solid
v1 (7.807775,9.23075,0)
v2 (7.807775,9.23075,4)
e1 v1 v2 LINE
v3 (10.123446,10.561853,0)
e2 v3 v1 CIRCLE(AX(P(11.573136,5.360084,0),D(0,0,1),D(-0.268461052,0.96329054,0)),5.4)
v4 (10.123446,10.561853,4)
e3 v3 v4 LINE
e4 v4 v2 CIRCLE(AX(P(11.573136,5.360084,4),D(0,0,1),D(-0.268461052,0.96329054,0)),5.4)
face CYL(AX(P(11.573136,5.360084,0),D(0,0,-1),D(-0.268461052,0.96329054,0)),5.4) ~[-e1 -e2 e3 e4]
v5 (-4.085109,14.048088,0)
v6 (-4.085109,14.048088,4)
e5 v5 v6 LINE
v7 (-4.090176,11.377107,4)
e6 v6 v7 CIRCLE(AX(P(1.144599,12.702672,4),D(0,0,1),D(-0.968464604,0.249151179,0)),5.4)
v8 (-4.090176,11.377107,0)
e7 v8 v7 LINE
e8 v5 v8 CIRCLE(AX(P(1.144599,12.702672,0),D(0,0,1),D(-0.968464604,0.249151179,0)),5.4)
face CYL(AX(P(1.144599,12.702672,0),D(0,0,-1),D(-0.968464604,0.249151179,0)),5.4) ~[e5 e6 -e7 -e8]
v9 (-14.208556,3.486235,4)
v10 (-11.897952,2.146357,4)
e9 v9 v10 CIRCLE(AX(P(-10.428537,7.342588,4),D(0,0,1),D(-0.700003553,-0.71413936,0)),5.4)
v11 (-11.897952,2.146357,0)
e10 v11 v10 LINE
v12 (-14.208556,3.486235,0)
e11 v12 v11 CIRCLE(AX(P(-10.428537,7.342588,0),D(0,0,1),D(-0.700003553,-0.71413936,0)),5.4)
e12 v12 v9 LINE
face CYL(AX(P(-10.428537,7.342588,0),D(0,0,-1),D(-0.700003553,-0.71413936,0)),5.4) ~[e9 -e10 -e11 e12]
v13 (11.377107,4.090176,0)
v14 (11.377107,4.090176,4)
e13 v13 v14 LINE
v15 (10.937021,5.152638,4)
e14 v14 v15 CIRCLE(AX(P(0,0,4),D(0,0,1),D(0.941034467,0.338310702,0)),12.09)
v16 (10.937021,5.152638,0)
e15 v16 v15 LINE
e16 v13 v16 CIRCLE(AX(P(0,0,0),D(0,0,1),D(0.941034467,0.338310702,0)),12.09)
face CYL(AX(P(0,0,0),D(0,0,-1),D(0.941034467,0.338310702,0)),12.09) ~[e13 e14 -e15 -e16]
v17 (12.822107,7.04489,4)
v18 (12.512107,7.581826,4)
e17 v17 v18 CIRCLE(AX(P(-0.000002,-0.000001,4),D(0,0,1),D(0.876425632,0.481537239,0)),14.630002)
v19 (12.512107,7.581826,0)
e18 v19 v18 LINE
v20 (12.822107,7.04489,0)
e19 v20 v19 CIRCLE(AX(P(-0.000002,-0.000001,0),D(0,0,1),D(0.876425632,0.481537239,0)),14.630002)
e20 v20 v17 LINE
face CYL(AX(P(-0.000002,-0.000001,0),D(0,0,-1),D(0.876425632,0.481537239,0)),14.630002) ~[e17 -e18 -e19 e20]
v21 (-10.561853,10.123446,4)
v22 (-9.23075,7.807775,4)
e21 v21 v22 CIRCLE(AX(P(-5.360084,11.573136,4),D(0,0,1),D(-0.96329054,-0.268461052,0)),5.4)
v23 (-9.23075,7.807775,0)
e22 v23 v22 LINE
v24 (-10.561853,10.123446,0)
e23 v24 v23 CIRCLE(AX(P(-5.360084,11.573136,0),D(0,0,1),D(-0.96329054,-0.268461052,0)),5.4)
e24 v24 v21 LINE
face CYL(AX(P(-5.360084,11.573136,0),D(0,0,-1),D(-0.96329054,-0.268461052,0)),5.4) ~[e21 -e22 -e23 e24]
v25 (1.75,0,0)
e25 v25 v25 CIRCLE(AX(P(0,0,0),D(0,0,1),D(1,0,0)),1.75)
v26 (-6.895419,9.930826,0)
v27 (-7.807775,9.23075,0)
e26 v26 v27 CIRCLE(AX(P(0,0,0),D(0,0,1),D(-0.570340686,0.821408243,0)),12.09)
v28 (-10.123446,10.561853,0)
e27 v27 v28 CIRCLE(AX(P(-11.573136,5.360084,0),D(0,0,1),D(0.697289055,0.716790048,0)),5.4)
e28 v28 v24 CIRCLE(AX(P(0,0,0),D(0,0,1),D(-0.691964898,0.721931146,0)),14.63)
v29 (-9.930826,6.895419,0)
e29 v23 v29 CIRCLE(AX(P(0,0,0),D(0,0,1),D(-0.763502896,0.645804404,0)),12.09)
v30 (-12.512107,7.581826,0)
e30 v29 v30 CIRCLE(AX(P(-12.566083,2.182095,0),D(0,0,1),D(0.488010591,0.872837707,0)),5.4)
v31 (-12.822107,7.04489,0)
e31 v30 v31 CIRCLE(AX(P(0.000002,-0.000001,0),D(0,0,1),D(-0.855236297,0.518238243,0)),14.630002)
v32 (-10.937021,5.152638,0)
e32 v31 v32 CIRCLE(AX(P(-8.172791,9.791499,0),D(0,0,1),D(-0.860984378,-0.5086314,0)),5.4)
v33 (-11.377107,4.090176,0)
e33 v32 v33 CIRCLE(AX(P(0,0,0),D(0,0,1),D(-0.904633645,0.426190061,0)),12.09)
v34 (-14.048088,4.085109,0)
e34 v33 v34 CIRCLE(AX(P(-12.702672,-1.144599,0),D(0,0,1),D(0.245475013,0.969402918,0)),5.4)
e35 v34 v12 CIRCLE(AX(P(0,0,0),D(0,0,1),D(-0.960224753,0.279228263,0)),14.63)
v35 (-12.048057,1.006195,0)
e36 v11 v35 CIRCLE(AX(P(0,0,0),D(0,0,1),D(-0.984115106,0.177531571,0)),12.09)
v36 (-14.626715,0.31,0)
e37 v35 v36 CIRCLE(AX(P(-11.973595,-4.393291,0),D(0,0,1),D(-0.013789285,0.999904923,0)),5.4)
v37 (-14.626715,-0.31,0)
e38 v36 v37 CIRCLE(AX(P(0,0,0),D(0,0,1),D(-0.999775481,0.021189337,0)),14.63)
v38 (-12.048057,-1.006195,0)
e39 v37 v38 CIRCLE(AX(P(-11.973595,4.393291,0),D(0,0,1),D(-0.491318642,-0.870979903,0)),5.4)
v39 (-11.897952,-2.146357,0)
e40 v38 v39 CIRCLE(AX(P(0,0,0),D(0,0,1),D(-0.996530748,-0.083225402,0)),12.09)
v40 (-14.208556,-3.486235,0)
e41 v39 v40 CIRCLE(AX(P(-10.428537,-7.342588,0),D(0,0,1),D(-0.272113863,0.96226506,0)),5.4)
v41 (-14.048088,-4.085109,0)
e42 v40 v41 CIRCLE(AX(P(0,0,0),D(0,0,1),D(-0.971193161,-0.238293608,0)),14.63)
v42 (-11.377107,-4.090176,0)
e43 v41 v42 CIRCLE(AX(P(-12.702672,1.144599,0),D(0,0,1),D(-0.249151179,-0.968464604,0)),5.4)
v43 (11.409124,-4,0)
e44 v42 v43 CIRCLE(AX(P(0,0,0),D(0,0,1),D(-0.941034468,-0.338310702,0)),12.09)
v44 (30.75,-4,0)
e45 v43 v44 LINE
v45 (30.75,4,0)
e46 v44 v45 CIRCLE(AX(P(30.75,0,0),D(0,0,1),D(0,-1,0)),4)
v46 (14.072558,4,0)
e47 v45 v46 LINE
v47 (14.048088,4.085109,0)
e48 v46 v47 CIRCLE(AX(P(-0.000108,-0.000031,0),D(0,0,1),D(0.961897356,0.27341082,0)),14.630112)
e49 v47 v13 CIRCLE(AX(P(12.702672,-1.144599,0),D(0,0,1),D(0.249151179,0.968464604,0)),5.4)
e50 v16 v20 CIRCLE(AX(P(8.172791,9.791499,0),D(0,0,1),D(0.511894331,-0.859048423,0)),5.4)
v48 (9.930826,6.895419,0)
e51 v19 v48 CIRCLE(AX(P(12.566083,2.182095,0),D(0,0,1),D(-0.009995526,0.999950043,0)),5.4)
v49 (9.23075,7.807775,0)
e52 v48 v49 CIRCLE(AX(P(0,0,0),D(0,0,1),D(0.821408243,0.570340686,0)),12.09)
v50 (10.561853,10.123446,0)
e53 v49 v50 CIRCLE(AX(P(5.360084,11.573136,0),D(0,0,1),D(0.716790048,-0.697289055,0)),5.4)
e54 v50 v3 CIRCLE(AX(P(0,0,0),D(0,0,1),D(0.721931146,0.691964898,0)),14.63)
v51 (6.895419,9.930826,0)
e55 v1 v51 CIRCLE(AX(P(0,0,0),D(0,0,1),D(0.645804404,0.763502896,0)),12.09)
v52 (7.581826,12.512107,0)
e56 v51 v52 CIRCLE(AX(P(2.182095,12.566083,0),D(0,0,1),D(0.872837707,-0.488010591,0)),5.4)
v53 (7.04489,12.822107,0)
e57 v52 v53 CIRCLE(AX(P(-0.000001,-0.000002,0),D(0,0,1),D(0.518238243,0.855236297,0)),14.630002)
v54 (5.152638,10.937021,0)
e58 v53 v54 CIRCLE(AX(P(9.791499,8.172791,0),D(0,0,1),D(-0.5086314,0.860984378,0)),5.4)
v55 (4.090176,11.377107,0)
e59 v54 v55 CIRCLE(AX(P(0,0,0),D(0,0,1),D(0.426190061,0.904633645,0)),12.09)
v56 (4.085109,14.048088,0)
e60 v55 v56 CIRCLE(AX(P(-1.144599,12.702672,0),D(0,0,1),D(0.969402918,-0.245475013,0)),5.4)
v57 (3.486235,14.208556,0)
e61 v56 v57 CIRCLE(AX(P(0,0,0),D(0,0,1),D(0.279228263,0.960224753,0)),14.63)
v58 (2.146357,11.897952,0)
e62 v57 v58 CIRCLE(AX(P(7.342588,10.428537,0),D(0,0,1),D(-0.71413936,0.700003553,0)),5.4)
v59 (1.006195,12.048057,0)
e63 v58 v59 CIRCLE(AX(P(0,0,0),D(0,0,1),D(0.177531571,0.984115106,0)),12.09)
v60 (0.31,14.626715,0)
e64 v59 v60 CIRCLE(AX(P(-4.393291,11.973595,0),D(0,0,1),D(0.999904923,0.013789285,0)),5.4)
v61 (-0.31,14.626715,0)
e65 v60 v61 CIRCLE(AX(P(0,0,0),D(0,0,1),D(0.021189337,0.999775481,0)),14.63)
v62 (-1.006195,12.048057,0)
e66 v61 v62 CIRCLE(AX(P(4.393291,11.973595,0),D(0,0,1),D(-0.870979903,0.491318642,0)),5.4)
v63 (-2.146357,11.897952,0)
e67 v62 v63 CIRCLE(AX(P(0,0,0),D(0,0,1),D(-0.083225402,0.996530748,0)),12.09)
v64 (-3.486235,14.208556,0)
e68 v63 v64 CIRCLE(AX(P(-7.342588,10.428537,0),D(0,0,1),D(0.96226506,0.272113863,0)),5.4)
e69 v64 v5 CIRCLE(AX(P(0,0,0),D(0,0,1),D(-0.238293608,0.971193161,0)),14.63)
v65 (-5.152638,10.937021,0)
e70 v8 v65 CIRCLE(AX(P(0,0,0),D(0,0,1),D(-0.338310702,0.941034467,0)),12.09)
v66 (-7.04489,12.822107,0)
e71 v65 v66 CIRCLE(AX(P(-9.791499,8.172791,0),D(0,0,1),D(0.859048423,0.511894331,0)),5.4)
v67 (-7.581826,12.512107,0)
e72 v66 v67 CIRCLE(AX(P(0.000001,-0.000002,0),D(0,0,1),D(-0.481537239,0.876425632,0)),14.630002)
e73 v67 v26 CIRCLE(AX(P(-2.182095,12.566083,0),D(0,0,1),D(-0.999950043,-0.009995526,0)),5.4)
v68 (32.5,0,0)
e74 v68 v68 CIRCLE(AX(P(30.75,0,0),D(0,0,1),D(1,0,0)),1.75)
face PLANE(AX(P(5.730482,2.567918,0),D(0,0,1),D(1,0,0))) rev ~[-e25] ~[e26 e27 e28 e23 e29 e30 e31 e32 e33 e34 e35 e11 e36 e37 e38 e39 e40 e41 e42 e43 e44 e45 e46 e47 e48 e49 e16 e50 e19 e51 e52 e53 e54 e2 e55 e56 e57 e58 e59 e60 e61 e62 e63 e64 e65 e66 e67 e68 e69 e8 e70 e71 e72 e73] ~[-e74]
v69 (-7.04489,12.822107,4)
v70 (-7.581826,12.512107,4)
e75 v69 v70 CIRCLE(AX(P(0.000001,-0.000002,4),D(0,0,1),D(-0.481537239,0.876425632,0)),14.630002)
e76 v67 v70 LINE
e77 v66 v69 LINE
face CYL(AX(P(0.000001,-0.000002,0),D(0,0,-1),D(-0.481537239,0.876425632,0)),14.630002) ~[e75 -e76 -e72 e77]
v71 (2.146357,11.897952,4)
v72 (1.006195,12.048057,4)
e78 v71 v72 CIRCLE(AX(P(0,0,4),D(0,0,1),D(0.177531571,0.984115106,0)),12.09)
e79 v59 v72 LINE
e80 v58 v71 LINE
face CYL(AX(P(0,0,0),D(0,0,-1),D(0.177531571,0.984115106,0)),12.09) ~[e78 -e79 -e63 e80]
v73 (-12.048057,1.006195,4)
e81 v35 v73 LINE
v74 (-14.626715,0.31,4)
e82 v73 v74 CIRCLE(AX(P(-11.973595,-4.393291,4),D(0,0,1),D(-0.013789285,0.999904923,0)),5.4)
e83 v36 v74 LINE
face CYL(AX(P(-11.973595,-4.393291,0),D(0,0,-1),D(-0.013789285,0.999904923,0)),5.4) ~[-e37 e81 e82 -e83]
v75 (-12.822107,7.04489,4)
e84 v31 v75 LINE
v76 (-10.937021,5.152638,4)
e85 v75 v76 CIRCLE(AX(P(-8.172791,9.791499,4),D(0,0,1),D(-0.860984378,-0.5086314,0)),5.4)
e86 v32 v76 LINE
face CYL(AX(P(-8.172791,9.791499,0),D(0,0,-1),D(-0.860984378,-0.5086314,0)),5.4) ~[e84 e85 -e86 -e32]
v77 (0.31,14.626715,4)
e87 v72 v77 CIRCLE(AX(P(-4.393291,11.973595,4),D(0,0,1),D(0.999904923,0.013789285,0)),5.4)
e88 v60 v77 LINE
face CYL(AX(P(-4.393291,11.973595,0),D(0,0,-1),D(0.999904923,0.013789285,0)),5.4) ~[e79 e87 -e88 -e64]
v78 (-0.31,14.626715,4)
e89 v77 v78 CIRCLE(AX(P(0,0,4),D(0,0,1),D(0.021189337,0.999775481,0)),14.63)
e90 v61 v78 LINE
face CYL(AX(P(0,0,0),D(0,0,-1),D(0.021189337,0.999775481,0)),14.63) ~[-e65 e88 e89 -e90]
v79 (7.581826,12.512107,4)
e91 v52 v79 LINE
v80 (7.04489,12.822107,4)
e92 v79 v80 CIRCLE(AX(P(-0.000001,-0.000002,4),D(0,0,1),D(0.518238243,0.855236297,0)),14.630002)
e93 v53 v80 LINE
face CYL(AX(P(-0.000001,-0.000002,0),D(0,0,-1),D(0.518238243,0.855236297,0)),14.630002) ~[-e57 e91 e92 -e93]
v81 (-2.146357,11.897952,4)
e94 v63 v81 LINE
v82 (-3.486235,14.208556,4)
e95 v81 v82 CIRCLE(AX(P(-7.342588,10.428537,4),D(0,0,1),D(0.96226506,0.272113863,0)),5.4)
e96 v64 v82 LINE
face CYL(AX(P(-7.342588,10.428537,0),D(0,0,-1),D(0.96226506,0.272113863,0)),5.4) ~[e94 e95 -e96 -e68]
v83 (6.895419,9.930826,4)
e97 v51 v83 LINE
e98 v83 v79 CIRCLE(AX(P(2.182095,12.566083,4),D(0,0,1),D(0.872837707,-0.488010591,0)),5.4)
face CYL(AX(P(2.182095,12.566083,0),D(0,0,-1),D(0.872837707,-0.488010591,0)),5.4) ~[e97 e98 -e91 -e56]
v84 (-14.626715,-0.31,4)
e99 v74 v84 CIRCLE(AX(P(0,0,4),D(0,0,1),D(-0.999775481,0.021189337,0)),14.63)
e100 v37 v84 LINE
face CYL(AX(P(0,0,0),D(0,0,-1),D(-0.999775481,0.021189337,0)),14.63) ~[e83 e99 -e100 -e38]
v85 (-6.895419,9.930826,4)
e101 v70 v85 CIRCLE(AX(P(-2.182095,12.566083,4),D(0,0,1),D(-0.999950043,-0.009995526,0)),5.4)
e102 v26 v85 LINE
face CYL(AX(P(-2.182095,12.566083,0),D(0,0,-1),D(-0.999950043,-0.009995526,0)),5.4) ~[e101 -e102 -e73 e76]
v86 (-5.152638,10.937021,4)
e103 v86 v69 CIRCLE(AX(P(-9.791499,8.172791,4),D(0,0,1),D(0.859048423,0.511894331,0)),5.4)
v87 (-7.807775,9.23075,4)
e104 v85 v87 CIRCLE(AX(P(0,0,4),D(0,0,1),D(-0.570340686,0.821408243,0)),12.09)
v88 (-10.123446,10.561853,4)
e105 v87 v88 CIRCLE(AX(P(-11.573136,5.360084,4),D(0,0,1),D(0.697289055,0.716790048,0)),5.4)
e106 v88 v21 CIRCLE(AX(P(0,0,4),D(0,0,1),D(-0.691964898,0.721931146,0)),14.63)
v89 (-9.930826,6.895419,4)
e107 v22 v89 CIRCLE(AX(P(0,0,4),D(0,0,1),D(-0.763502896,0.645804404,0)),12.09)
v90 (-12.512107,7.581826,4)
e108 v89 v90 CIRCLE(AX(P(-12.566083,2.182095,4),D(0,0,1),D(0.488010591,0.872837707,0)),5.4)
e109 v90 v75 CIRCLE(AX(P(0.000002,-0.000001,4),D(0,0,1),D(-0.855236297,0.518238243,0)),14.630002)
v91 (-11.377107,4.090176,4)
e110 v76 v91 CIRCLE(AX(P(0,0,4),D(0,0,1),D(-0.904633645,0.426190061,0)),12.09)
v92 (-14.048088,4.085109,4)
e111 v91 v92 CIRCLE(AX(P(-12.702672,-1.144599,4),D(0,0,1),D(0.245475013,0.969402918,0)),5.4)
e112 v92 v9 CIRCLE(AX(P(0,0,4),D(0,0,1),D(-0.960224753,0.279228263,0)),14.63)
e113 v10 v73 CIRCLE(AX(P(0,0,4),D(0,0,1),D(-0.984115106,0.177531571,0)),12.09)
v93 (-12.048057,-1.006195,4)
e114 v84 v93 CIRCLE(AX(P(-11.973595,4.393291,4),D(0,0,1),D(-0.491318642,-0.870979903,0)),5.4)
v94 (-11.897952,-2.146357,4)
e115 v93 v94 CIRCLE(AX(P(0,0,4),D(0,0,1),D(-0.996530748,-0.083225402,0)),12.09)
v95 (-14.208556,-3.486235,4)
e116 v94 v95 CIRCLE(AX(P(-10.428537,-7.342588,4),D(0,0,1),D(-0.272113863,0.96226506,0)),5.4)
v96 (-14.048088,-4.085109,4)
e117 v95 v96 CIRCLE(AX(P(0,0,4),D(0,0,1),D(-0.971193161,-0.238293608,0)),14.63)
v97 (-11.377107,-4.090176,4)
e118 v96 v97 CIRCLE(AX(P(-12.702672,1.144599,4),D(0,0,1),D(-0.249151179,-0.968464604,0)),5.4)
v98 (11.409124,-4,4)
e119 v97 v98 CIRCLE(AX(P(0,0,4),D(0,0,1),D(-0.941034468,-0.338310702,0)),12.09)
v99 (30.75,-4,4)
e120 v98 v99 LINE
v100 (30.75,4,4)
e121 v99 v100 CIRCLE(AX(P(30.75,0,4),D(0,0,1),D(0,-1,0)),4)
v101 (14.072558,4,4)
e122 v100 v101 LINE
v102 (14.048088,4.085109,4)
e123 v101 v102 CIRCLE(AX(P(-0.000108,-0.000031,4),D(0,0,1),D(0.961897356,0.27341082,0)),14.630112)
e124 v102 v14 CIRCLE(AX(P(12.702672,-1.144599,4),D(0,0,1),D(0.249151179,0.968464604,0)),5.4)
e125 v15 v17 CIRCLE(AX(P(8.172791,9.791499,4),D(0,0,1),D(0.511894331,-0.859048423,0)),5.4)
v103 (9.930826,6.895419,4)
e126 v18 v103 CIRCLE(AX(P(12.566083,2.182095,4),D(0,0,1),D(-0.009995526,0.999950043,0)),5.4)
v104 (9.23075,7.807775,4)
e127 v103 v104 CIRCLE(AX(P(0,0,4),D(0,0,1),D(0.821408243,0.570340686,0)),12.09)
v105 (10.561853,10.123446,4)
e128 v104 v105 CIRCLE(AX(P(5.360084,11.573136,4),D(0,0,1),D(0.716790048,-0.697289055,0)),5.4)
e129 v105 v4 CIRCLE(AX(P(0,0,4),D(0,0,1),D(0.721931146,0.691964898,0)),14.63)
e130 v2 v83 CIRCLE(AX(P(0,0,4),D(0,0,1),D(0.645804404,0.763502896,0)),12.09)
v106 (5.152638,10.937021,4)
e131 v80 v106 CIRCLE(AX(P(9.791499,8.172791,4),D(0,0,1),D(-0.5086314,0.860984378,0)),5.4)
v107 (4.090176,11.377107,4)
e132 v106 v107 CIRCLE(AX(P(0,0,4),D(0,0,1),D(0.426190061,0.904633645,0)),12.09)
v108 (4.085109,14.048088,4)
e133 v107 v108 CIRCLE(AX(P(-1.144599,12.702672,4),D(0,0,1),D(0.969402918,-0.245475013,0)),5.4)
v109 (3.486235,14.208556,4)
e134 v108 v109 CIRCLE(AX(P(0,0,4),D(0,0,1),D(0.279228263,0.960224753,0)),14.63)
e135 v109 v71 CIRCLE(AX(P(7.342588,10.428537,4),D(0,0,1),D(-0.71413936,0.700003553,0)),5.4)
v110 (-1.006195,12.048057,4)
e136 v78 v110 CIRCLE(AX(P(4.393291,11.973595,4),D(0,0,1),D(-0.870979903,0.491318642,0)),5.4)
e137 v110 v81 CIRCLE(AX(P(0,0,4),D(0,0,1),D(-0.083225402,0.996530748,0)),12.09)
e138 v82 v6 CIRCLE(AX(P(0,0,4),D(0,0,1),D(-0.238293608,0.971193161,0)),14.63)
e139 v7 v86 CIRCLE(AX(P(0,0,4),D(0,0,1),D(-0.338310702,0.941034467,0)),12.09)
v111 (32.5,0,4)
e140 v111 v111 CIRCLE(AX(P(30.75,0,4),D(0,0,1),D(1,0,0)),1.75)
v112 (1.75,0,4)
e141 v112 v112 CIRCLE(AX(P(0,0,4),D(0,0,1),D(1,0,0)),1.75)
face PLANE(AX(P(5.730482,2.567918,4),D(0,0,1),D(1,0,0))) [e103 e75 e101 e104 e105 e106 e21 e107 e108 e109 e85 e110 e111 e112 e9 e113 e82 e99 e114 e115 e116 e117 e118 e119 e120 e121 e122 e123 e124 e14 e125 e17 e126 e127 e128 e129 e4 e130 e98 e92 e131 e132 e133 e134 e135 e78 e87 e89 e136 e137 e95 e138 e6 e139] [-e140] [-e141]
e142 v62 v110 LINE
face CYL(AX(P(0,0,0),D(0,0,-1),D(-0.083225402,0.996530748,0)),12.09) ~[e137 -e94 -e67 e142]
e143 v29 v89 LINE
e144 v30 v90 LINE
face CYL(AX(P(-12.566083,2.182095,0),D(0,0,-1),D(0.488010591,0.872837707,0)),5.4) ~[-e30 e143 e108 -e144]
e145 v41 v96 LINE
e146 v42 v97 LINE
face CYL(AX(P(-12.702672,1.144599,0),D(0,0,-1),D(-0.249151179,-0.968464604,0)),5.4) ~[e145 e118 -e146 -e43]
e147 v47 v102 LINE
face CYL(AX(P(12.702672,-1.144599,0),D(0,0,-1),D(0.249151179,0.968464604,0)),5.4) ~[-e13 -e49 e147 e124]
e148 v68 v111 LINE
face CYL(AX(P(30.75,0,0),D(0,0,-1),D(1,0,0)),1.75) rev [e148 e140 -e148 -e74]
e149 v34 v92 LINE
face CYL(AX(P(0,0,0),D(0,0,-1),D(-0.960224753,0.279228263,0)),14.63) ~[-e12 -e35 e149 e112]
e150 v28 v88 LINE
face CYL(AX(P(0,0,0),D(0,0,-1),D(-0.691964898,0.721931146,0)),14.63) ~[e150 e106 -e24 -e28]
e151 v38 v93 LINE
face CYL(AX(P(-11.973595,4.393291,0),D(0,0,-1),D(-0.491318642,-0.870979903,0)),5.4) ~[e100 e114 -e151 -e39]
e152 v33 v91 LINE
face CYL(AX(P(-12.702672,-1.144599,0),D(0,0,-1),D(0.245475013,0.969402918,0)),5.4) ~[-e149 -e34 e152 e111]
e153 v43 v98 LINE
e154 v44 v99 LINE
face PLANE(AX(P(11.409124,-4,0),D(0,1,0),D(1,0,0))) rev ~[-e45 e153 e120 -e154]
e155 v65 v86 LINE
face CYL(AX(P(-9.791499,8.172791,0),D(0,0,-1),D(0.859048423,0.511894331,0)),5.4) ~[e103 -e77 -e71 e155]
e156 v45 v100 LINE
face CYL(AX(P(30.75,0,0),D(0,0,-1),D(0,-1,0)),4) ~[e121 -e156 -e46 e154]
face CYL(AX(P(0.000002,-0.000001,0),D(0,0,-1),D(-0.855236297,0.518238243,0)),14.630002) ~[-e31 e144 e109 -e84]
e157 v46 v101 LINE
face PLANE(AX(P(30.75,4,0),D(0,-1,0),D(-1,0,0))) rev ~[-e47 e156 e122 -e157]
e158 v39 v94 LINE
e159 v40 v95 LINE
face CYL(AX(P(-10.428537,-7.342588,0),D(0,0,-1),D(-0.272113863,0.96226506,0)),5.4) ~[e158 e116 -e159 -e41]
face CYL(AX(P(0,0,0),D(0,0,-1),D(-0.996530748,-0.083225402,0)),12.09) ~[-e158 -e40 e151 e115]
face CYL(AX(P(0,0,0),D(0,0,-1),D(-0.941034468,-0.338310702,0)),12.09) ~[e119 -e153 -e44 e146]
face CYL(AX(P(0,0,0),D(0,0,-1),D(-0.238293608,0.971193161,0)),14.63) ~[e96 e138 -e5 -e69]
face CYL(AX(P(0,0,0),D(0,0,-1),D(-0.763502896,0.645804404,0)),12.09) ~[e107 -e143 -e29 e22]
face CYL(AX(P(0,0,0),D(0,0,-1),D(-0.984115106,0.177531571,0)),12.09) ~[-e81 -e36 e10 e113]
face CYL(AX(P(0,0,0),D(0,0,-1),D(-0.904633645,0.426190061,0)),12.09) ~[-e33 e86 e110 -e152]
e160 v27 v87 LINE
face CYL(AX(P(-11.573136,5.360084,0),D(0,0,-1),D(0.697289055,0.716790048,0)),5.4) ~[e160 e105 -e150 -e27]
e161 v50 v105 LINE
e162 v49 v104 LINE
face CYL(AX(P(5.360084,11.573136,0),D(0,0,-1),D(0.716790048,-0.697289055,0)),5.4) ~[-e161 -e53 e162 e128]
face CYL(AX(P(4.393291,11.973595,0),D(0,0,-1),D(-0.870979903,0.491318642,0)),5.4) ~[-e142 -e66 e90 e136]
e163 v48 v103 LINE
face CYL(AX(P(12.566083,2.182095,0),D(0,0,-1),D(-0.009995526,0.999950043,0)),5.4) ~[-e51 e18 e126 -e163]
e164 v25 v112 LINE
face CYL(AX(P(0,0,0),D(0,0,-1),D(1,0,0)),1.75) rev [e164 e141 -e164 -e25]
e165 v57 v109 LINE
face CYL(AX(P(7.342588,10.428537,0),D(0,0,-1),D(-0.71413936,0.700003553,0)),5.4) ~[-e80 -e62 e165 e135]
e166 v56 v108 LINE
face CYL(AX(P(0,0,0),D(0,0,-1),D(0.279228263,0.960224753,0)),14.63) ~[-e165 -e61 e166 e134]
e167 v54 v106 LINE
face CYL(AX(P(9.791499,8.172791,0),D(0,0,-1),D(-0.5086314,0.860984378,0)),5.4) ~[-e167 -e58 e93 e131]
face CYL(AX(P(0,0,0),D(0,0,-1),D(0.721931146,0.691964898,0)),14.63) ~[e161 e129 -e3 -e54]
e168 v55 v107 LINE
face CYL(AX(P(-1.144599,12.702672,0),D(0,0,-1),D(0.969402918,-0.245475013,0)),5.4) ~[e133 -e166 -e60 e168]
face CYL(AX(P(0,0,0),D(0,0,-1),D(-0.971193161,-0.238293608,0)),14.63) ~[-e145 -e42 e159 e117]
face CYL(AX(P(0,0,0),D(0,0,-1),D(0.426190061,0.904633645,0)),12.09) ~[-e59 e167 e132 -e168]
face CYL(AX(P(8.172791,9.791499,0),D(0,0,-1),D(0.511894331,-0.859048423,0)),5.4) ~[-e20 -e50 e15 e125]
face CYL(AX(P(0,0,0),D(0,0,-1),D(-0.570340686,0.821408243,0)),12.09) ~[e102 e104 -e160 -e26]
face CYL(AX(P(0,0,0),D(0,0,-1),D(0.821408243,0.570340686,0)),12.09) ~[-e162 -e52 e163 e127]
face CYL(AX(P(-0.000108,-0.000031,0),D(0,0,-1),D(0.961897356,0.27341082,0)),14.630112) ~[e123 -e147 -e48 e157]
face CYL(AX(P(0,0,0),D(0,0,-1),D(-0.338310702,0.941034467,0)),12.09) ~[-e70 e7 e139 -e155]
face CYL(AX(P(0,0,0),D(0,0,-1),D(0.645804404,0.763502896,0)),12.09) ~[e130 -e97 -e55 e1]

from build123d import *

# Parameters (mm, degrees)
SKETCH1_R           = 1.75
BOSS_EXTRUDE1_DEPTH = 4


with BuildPart() as part:
    # Sketch1 → Boss-Extrude1 (new body)
    with BuildSketch(Plane.XY):
        with BuildLine():
            ThreePointArc((30.75, -4), (34.75, 0), (30.75, 4))
            Line((30.75, 4), (14.072558403, 4))
            ThreePointArc((14.072558403, 4), (14.06038767, 4.04257326), (14.048088143, 4.085109489))
            ThreePointArc((14.048088143, 4.085109489), (12.712915648, 4.255390909), (11.377106712, 4.090176385))
            ThreePointArc((11.377106712, 4.090176385), (11.169703548, 4.626642697), (10.937020765, 5.152637848))
            ThreePointArc((10.937020765, 5.152637848), (11.998404632, 5.980373095), (12.82210701, 7.044889767))
            ThreePointArc((12.82210701, 7.044889767), (12.669951657, 7.315), (12.51210701, 7.581825517))
            ThreePointArc((12.51210701, 7.581825517), (11.17835734, 7.400736668), (9.930825655, 6.8954189))
            ThreePointArc((9.930825655, 6.8954189), (9.591641884, 7.359925677), (9.230750012, 7.807775241))
            ThreePointArc((9.230750012, 7.807775241), (10.041734454, 8.882012453), (10.561852666, 10.123446462))
            ThreePointArc((10.561852666, 10.123446462), (10.344972209, 10.344972209), (10.123446462, 10.561852666))
            ThreePointArc((10.123446462, 10.561852666), (8.882012453, 10.041734454), (7.807775241, 9.230750012))
            ThreePointArc((7.807775241, 9.230750012), (7.359925677, 9.591641884), (6.8954189, 9.930825655))
            ThreePointArc((6.8954189, 9.930825655), (7.400736668, 11.17835734), (7.581825517, 12.51210701))
            ThreePointArc((7.581825517, 12.51210701), (7.315, 12.669951657), (7.044889767, 12.82210701))
            ThreePointArc((7.044889767, 12.82210701), (5.980373095, 11.998404632), (5.152637848, 10.937020765))
            ThreePointArc((5.152637848, 10.937020765), (4.626642697, 11.169703548), (4.090176385, 11.377106712))
            ThreePointArc((4.090176385, 11.377106712), (4.255390909, 12.712915648), (4.085109489, 14.048088143))
            ThreePointArc((4.085109489, 14.048088143), (3.78652263, 14.131494839), (3.486235477, 14.208555951))
            ThreePointArc((3.486235477, 14.208555951), (2.671181194, 13.137403362), (2.1463567, 11.897951627))
            ThreePointArc((2.1463567, 11.897951627), (1.578061664, 11.986568374), (1.00619511, 12.048056748))
            ThreePointArc((1.00619511, 12.048056748), (0.820047291, 13.381109763), (0.31, 14.626715284))
            ThreePointArc((0.31, 14.626715284), (0, 14.63), (-0.31, 14.626715284))
            ThreePointArc((-0.31, 14.626715284), (-0.820047291, 13.381109763), (-1.00619511, 12.048056748))
            ThreePointArc((-1.00619511, 12.048056748), (-1.578061664, 11.986568374), (-2.1463567, 11.897951627))
            ThreePointArc((-2.1463567, 11.897951627), (-2.671181194, 13.137403362), (-3.486235477, 14.208555951))
            ThreePointArc((-3.486235477, 14.208555951), (-3.78652263, 14.131494839), (-4.085109489, 14.048088143))
            ThreePointArc((-4.085109489, 14.048088143), (-4.255390909, 12.712915648), (-4.090176385, 11.377106712))
            ThreePointArc((-4.090176385, 11.377106712), (-4.626642697, 11.169703548), (-5.152637848, 10.937020765))
            ThreePointArc((-5.152637848, 10.937020765), (-5.980373095, 11.998404632), (-7.044889767, 12.82210701))
            ThreePointArc((-7.044889767, 12.82210701), (-7.315, 12.669951657), (-7.581825517, 12.51210701))
            ThreePointArc((-7.581825517, 12.51210701), (-7.400736668, 11.17835734), (-6.8954189, 9.930825655))
            ThreePointArc((-6.8954189, 9.930825655), (-7.359925677, 9.591641884), (-7.807775241, 9.230750012))
            ThreePointArc((-7.807775241, 9.230750012), (-8.882012453, 10.041734454), (-10.123446462, 10.561852666))
            ThreePointArc((-10.123446462, 10.561852666), (-10.344972209, 10.344972209), (-10.561852666, 10.123446462))
            ThreePointArc((-10.561852666, 10.123446462), (-10.041734454, 8.882012453), (-9.230750012, 7.807775241))
            ThreePointArc((-9.230750012, 7.807775241), (-9.591641884, 7.359925677), (-9.930825655, 6.8954189))
            ThreePointArc((-9.930825655, 6.8954189), (-11.17835734, 7.400736668), (-12.51210701, 7.581825517))
            ThreePointArc((-12.51210701, 7.581825517), (-12.669951657, 7.315), (-12.82210701, 7.044889767))
            ThreePointArc((-12.82210701, 7.044889767), (-11.998404632, 5.980373095), (-10.937020765, 5.152637848))
            ThreePointArc((-10.937020765, 5.152637848), (-11.169703548, 4.626642697), (-11.377106712, 4.090176385))
            ThreePointArc((-11.377106712, 4.090176385), (-12.712915648, 4.255390909), (-14.048088143, 4.085109489))
            ThreePointArc((-14.048088143, 4.085109489), (-14.131494839, 3.78652263), (-14.208555951, 3.486235477))
            ThreePointArc((-14.208555951, 3.486235477), (-13.137403362, 2.671181194), (-11.897951627, 2.1463567))
            ThreePointArc((-11.897951627, 2.1463567), (-11.986568374, 1.578061664), (-12.048056748, 1.00619511))
            ThreePointArc((-12.048056748, 1.00619511), (-13.381109763, 0.820047291), (-14.626715284, 0.31))
            ThreePointArc((-14.626715284, 0.31), (-14.63, 0), (-14.626715284, -0.31))
            ThreePointArc((-14.626715284, -0.31), (-13.381109763, -0.820047291), (-12.048056748, -1.00619511))
            ThreePointArc((-12.048056748, -1.00619511), (-11.986568374, -1.578061664), (-11.897951627, -2.1463567))
            ThreePointArc((-11.897951627, -2.1463567), (-13.137403362, -2.671181194), (-14.208555951, -3.486235477))
            ThreePointArc((-14.208555951, -3.486235477), (-14.131494839, -3.78652263), (-14.048088143, -4.085109489))
            ThreePointArc((-14.048088143, -4.085109489), (-12.712915648, -4.255390909), (-11.377106712, -4.090176385))
            ThreePointArc((-11.377106712, -4.090176385), (0.047845736, -12.089905326), (11.409123542, -4))
            Line((11.409123542, -4), (30.75, -4))
        make_face()
        Circle(SKETCH1_R, mode=Mode.SUBTRACT)
        with Locations((30.75, 0)):
            Circle(SKETCH1_R, mode=Mode.SUBTRACT)
    extrude(amount=BOSS_EXTRUDE1_DEPTH)


solid = part.part
